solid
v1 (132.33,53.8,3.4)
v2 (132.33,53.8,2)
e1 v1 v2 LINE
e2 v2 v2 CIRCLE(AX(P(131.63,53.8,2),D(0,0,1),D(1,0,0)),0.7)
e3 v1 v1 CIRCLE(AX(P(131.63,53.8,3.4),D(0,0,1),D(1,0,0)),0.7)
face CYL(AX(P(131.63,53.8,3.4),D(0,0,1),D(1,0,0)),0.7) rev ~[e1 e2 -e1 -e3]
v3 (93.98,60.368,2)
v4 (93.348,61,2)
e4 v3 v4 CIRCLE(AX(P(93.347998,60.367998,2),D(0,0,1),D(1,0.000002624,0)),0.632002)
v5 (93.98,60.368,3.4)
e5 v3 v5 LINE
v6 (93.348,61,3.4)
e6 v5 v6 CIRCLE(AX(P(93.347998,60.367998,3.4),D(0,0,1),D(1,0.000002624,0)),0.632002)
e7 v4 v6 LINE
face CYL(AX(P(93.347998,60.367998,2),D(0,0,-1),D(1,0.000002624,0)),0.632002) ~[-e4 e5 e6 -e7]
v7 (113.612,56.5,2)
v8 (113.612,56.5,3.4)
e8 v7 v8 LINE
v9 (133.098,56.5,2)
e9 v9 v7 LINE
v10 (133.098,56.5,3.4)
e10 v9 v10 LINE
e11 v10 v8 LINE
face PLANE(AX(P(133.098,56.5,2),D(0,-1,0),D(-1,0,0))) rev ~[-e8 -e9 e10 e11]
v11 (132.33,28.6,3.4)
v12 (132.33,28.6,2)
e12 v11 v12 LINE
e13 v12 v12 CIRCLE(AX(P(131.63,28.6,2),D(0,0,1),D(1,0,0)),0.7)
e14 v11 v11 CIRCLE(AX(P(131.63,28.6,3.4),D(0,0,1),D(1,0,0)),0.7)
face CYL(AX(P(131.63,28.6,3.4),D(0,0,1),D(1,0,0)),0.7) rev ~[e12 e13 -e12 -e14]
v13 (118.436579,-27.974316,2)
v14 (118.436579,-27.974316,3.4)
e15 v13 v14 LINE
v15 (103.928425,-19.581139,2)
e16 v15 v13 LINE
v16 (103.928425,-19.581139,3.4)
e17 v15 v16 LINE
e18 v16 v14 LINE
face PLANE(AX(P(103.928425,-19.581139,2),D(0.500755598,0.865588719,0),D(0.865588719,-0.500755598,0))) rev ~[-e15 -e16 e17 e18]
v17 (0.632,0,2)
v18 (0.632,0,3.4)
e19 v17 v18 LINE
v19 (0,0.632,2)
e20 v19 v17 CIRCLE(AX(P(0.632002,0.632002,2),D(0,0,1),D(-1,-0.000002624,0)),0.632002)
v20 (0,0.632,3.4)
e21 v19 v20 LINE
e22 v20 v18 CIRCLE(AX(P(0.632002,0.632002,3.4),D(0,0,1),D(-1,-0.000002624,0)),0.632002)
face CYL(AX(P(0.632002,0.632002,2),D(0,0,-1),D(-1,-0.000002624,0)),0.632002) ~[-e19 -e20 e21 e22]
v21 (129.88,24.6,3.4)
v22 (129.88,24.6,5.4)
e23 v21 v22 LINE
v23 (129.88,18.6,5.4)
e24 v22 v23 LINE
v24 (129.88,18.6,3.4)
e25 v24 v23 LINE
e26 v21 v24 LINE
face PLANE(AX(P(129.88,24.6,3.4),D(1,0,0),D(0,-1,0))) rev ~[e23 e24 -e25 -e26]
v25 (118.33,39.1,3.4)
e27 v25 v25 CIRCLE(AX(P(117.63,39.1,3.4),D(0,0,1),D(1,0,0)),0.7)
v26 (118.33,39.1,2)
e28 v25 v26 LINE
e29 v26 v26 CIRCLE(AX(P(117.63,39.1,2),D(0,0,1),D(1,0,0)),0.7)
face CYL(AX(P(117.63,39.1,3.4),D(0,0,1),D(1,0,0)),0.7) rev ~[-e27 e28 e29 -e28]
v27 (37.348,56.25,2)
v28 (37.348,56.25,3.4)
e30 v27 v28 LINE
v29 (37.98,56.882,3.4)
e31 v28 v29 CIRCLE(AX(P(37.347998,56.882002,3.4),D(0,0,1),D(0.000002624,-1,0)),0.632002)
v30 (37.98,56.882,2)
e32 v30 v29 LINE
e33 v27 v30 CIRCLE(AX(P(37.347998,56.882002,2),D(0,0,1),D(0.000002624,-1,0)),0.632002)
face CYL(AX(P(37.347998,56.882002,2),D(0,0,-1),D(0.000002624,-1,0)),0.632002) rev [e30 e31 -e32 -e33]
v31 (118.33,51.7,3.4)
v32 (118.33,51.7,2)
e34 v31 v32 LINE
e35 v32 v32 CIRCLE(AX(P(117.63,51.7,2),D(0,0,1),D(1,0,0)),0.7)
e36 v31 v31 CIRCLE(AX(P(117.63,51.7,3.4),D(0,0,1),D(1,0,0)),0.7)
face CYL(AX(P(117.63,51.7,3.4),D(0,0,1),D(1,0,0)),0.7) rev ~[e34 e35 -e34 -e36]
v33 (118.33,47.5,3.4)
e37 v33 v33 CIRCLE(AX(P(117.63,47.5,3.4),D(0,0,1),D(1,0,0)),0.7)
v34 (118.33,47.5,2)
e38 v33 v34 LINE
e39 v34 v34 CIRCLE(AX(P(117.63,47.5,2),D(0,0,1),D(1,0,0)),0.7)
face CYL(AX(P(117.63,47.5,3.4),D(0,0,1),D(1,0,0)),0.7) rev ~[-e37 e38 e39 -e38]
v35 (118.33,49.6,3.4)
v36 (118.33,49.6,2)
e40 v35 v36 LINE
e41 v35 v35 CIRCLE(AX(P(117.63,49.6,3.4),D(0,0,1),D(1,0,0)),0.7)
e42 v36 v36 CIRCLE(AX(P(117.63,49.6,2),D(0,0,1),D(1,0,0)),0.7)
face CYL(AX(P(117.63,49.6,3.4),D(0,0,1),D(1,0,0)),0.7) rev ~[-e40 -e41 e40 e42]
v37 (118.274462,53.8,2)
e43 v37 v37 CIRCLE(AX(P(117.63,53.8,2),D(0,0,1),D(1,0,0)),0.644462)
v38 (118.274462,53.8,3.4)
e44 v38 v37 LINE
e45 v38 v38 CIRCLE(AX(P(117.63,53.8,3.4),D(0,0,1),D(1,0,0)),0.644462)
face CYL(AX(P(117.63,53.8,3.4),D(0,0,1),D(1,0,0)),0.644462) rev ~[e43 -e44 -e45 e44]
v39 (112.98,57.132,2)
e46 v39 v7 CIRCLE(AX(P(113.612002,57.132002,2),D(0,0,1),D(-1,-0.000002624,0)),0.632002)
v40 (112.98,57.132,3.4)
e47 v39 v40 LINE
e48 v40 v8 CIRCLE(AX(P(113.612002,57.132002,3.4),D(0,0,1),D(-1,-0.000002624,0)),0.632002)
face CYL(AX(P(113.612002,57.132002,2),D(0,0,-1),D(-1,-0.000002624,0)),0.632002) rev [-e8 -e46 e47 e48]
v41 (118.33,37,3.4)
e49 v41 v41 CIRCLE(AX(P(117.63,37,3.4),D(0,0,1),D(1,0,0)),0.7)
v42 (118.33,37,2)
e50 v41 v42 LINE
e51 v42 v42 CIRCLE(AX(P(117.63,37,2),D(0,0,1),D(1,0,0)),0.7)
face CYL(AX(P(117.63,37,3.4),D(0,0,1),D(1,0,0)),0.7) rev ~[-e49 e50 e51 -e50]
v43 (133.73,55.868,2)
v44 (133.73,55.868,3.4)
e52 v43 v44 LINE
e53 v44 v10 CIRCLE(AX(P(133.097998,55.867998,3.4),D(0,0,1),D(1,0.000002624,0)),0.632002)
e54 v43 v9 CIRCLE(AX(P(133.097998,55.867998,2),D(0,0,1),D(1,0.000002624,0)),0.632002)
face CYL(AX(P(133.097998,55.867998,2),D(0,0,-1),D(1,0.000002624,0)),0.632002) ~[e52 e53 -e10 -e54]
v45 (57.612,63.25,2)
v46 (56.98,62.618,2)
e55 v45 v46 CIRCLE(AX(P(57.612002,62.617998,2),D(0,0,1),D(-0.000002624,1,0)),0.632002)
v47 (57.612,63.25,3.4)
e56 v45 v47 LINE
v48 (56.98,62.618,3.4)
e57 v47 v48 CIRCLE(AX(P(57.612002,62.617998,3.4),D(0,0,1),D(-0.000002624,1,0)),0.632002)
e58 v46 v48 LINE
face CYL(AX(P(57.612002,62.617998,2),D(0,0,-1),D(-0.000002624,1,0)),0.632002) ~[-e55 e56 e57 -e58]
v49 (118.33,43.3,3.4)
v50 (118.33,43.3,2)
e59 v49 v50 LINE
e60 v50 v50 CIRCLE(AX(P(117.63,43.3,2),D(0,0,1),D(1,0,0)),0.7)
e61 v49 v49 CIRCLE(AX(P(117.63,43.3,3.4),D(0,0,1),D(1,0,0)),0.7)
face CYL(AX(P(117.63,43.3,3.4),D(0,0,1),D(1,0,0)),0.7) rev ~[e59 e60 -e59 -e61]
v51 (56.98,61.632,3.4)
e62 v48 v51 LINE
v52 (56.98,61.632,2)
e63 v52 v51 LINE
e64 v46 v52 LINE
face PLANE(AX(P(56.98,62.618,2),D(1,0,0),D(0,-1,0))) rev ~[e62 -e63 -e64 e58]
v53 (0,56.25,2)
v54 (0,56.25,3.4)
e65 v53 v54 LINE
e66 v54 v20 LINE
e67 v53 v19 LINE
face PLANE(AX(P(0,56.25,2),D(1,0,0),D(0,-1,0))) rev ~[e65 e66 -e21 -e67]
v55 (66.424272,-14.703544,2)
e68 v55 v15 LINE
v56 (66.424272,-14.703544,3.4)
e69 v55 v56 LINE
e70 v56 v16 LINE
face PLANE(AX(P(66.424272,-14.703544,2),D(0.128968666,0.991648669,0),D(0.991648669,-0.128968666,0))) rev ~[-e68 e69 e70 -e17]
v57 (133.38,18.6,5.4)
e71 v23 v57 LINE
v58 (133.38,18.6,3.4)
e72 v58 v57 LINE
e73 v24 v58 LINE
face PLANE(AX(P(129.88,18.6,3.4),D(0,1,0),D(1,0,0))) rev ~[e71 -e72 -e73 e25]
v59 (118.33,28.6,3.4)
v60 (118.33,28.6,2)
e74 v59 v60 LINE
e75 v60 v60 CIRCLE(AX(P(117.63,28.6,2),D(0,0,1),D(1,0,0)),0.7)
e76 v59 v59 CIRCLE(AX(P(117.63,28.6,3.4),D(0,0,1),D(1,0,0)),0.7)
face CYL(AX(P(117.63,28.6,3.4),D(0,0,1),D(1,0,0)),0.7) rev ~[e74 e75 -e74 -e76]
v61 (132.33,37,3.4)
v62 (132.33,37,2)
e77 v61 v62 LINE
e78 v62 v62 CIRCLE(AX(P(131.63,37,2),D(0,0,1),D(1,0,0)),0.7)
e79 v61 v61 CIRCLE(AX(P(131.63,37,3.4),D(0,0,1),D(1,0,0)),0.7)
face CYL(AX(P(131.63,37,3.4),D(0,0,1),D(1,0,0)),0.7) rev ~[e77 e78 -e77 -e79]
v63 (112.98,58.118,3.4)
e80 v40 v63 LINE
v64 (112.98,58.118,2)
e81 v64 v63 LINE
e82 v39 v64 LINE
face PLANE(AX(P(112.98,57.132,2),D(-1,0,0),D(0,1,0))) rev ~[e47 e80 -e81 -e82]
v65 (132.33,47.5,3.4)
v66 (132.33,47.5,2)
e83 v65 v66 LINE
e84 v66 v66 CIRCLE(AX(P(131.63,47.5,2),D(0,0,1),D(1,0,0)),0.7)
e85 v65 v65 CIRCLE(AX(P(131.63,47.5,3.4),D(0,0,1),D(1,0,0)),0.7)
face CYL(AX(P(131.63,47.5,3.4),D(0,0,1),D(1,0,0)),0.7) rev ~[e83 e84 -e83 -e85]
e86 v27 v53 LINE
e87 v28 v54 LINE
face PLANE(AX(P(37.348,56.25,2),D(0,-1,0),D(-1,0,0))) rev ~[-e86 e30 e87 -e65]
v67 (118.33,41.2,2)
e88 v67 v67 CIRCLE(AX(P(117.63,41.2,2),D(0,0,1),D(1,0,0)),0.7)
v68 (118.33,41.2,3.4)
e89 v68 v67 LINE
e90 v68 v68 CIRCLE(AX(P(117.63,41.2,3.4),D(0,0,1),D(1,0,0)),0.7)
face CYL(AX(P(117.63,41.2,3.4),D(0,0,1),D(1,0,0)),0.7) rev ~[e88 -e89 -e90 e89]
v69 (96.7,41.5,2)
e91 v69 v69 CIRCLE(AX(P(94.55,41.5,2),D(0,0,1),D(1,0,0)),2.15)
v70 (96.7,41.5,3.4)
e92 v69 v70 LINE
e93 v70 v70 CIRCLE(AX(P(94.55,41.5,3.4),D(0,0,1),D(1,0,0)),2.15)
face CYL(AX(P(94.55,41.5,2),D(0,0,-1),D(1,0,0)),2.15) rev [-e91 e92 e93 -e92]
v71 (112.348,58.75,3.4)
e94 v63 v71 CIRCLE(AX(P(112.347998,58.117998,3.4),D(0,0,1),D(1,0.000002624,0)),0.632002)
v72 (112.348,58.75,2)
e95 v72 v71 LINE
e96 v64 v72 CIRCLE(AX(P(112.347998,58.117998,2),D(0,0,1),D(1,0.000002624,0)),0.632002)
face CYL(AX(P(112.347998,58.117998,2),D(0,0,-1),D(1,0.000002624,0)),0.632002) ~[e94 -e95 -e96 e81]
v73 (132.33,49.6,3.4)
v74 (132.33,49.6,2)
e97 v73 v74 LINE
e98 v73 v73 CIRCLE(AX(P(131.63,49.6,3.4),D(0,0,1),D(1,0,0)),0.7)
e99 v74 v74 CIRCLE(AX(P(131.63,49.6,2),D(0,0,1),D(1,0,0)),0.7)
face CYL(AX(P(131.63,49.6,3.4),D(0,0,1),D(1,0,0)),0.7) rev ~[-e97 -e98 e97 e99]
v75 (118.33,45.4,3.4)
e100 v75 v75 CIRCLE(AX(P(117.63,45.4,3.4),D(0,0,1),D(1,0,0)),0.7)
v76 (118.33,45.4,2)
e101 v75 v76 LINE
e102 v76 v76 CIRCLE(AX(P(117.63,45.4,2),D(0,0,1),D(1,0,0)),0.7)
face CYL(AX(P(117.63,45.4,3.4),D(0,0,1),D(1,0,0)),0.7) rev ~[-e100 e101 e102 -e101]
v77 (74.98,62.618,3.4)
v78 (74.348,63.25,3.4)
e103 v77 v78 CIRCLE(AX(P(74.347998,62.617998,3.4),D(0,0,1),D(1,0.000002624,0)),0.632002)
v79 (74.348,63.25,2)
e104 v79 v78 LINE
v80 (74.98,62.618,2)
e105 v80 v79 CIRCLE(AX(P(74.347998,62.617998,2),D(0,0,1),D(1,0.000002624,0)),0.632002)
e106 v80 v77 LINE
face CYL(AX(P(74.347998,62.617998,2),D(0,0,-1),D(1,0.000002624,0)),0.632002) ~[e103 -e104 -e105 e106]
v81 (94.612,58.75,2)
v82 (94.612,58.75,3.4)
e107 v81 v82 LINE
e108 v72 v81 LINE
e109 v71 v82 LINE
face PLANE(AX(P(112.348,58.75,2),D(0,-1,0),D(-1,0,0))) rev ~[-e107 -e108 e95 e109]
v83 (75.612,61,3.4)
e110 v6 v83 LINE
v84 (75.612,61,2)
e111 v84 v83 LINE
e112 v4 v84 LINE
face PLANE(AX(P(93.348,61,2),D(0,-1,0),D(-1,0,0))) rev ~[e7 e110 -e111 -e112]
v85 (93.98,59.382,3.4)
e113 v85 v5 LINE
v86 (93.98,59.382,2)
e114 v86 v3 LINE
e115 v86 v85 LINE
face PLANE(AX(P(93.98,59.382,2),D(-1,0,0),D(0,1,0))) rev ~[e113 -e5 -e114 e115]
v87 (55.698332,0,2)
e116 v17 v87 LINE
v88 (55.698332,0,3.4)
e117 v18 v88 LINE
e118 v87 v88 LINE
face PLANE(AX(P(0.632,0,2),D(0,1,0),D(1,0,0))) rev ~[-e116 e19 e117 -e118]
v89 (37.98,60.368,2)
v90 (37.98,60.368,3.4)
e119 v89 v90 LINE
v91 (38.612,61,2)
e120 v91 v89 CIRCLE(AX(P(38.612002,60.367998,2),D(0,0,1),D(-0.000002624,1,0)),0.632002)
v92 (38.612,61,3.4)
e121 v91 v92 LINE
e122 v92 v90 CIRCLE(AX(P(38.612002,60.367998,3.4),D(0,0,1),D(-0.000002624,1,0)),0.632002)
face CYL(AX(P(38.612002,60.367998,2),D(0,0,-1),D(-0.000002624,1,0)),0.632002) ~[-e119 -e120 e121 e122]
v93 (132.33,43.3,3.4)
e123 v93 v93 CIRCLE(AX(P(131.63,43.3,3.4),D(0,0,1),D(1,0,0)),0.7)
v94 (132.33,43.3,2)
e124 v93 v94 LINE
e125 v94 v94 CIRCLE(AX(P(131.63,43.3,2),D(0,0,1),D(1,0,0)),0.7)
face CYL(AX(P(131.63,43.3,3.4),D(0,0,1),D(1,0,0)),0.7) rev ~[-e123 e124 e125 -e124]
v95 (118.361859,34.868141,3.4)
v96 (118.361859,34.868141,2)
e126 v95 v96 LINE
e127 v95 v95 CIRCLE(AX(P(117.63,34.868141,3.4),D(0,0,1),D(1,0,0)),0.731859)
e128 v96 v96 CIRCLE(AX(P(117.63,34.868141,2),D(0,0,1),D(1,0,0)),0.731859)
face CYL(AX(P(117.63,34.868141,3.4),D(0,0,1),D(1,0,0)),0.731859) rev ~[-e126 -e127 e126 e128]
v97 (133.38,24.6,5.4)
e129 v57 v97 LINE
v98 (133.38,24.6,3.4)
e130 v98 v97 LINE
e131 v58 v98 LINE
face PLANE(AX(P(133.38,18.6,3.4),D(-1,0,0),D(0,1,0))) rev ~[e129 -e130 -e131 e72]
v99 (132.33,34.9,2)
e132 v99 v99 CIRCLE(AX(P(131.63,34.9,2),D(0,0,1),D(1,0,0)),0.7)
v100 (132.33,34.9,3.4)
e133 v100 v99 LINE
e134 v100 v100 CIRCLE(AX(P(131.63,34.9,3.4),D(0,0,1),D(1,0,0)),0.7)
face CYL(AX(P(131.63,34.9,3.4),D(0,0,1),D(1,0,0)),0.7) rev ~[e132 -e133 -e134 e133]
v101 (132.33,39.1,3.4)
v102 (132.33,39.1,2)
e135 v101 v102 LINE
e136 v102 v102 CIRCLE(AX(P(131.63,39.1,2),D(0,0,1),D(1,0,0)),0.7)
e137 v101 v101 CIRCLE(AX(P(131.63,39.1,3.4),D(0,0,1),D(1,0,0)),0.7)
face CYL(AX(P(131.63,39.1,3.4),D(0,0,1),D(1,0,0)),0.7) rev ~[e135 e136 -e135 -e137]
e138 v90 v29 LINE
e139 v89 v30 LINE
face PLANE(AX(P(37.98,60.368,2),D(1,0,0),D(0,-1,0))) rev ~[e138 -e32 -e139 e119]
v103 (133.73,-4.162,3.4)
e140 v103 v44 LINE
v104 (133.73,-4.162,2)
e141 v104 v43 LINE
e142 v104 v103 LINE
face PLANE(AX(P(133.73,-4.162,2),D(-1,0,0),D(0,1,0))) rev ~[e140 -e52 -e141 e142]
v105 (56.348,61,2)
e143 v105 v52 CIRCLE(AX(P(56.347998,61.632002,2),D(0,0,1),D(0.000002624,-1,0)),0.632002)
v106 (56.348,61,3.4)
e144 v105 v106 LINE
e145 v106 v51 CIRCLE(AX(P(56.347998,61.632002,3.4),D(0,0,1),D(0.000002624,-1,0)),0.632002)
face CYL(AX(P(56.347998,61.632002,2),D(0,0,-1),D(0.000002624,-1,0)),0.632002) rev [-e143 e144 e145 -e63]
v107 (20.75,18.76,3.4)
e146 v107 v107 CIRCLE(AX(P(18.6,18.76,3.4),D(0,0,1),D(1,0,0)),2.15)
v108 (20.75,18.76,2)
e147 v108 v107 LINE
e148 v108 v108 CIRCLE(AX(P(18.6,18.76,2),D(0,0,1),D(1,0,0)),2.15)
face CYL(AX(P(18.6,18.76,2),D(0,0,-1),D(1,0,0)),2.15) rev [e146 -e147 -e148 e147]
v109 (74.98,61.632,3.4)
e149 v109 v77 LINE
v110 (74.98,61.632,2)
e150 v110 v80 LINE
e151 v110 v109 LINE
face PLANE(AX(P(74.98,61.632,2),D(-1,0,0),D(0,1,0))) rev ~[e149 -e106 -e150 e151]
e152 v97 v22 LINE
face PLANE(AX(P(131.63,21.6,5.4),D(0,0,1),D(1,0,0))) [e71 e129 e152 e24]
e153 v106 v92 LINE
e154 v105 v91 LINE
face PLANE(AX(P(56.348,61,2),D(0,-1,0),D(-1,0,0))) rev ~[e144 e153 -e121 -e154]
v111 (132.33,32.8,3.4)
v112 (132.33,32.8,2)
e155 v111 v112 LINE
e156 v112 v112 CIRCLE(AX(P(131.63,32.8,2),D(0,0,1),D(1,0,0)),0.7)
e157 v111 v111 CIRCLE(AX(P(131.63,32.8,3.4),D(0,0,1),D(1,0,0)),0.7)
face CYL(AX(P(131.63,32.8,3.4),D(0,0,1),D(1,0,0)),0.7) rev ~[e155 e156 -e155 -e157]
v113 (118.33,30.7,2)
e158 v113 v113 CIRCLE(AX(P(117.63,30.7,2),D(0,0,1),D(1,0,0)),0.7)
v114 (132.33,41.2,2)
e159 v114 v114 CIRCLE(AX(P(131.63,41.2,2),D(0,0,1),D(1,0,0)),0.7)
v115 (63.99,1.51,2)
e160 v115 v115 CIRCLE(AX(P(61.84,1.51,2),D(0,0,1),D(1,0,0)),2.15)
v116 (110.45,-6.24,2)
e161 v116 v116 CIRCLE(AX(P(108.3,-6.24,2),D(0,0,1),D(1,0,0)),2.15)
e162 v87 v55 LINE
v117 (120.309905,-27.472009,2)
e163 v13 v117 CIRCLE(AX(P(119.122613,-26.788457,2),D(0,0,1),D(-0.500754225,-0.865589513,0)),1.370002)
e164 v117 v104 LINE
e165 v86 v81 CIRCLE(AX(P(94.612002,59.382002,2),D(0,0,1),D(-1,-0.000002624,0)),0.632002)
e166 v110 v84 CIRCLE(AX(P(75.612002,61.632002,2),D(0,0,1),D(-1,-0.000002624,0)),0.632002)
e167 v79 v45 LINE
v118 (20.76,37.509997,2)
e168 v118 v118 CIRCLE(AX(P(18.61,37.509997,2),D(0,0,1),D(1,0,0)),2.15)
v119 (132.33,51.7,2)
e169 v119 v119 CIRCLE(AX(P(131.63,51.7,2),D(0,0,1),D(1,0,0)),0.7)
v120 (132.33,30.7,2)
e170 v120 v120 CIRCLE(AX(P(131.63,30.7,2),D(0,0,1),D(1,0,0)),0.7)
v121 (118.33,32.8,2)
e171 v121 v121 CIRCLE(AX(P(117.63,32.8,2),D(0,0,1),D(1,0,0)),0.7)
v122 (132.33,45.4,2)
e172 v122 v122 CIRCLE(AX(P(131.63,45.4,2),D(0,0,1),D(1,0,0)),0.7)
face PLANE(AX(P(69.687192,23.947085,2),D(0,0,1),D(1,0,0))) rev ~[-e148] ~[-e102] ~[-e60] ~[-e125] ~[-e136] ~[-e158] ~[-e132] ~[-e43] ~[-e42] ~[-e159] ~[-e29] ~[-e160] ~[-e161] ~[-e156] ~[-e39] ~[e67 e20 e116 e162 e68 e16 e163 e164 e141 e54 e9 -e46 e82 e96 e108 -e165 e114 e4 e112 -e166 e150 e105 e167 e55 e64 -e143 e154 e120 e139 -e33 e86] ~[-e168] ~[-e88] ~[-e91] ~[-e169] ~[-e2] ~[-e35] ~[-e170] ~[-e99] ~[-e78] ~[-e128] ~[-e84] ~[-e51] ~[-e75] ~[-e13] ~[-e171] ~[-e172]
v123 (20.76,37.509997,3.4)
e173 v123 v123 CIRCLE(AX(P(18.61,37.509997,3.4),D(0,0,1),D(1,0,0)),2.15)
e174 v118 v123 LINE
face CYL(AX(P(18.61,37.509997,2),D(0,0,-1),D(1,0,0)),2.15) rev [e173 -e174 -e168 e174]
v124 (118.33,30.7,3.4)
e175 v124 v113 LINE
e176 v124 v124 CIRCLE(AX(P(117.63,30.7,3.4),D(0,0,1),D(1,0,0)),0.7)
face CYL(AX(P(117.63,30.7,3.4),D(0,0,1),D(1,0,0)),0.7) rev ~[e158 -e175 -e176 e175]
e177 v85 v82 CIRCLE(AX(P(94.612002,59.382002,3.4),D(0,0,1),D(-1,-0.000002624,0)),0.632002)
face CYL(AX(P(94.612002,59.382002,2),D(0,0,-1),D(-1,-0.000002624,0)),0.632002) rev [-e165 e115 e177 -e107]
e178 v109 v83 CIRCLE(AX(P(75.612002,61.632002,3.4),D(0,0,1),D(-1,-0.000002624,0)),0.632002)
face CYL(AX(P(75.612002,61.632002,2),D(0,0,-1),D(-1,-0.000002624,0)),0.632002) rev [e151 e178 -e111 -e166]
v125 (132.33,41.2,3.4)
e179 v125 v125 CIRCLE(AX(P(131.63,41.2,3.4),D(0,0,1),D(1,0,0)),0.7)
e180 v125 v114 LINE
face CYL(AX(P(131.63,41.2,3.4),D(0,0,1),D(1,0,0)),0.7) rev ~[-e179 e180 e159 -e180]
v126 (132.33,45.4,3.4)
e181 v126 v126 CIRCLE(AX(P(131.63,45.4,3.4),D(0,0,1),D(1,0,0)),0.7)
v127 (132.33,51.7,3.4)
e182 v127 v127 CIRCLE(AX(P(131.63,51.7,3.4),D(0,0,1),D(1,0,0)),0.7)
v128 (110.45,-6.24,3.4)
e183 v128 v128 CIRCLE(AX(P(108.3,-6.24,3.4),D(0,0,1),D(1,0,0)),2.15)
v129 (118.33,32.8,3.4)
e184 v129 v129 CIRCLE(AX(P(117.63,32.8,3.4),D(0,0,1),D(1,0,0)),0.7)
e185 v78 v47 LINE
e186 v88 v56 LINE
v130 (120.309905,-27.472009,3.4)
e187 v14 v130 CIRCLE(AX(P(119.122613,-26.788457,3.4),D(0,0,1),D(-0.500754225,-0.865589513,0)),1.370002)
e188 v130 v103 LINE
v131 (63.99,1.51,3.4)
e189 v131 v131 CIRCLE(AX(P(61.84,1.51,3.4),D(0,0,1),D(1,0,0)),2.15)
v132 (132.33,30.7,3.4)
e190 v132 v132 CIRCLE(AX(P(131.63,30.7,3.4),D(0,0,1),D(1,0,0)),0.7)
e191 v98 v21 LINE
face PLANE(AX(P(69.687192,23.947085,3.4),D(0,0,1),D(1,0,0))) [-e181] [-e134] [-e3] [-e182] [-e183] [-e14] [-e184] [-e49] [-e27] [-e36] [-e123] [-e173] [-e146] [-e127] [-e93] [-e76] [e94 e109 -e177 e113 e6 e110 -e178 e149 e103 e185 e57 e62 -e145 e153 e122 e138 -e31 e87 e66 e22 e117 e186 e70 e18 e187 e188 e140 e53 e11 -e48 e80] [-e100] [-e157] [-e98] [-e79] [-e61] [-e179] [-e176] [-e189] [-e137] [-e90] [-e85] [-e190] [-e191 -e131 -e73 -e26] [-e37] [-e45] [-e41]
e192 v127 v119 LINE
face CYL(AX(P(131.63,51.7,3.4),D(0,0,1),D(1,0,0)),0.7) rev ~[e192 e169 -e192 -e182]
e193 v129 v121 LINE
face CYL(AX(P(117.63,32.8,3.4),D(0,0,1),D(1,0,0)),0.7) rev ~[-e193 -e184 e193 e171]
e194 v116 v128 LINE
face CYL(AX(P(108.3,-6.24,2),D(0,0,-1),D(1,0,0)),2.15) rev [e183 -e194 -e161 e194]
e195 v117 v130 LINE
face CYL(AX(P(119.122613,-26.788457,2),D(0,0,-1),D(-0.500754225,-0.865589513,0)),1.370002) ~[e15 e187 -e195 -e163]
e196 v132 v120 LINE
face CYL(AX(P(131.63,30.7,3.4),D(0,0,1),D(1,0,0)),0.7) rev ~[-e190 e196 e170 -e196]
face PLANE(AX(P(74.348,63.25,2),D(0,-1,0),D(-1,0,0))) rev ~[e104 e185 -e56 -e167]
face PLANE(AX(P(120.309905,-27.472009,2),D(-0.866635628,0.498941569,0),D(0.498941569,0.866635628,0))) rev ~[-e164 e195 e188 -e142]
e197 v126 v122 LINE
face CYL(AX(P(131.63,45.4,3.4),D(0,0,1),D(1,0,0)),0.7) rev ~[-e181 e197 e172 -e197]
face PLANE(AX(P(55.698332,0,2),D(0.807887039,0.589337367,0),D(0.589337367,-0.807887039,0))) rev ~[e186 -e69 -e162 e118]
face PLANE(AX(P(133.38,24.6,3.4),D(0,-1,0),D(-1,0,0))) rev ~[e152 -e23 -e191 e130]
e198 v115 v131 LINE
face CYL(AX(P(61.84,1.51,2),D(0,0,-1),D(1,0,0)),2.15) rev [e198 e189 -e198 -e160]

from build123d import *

# Parameters (mm, degrees)
MIRROREDSKETCH005_R = 2.15
PAD021_DEPTH        = 1.4
SKETCH093_R         = 0.7
SKETCH093_R_2       = 0.644462
SKETCH093_R_3       = 0.731859
POCKET013_DEPTH     = 1.401
PAD024_DEPTH        = 2


with BuildPart() as part:
    # MirroredSketch005 → Pad021 (new body)
    with BuildSketch(Plane.XY):
        with BuildLine():
            Line((0, 56.25), (0, 0.632))
            ThreePointArc((0, 0.632), (0.185109, 0.185109), (0.632, 0))
            Line((0.632, 0), (55.698332, 0))
            Line((55.698332, 0), (66.424272, -14.703544))
            Line((66.424272, -14.703544), (103.928425, -19.581139))
            Line((103.928425, -19.581139), (118.436579, -27.974316))
            ThreePointArc((118.436579, -27.974316), (119.477427, -28.111715), (120.309905, -27.472009))
            Line((120.309905, -27.472009), (133.73, -4.162))
            Line((133.73, -4.162), (133.73, 55.868))
            ThreePointArc((133.73, 55.868), (133.544891, 56.314891), (133.098, 56.5))
            Line((133.098, 56.5), (113.612, 56.5))
            ThreePointArc((112.98, 57.132), (113.165109, 56.685109), (113.612, 56.5))
            Line((112.98, 57.132), (112.98, 58.118))
            ThreePointArc((112.98, 58.118), (112.794891, 58.564891), (112.348, 58.75))
            Line((112.348, 58.75), (94.612, 58.75))
            ThreePointArc((93.98, 59.382), (94.165109, 58.935109), (94.612, 58.75))
            Line((93.98, 59.382), (93.98, 60.368))
            ThreePointArc((93.98, 60.368), (93.794891, 60.814891), (93.348, 61))
            Line((93.348, 61), (75.612, 61))
            ThreePointArc((74.98, 61.632), (75.165109, 61.185109), (75.612, 61))
            Line((74.98, 61.632), (74.98, 62.618))
            ThreePointArc((74.98, 62.618), (74.794891, 63.064891), (74.348, 63.25))
            Line((74.348, 63.25), (57.612, 63.25))
            ThreePointArc((57.612, 63.25), (57.165109, 63.064891), (56.98, 62.618))
            Line((56.98, 62.618), (56.98, 61.632))
            ThreePointArc((56.348, 61), (56.794891, 61.185109), (56.98, 61.632))
            Line((56.348, 61), (38.612, 61))
            ThreePointArc((38.612, 61), (38.165109, 60.814891), (37.98, 60.368))
            Line((37.98, 60.368), (37.98, 56.882))
            ThreePointArc((37.348, 56.25), (37.794891, 56.435109), (37.98, 56.882))
            Line((37.348, 56.25), (0, 56.25))
        make_face()
        with Locations((18.61, 37.509997)):
            Circle(MIRROREDSKETCH005_R, mode=Mode.SUBTRACT)
        with Locations((18.6, 18.76)):
            Circle(MIRROREDSKETCH005_R, mode=Mode.SUBTRACT)
        with Locations((108.3, -6.24)):
            Circle(MIRROREDSKETCH005_R, mode=Mode.SUBTRACT)
        with Locations((94.55, 41.5)):
            Circle(MIRROREDSKETCH005_R, mode=Mode.SUBTRACT)
        with Locations((61.84, 1.51)):
            Circle(MIRROREDSKETCH005_R, mode=Mode.SUBTRACT)
    extrude(amount=PAD021_DEPTH)

    # Sketch093 (on Face38 of Pad021) → Pocket013 (cut, through all)
    with BuildSketch(Plane.XY.offset(1.4)):
        with Locations((131.63, 53.8)):
            Circle(SKETCH093_R)
        with Locations((131.63, 51.7)):
            Circle(SKETCH093_R)
        with Locations((131.63, 49.6)):
            Circle(SKETCH093_R)
        with Locations((131.63, 47.5)):
            Circle(SKETCH093_R)
        with Locations((131.63, 45.4)):
            Circle(SKETCH093_R)
        with Locations((131.63, 43.3)):
            Circle(SKETCH093_R)
        with Locations((131.63, 41.2)):
            Circle(SKETCH093_R)
        with Locations((131.63, 39.1)):
            Circle(SKETCH093_R)
        with Locations((131.63, 37)):
            Circle(SKETCH093_R)
        with Locations((131.63, 34.9)):
            Circle(SKETCH093_R)
        with Locations((131.63, 32.8)):
            Circle(SKETCH093_R)
        with Locations((131.63, 30.7)):
            Circle(SKETCH093_R)
        with Locations((131.63, 28.6)):
            Circle(SKETCH093_R)
        with Locations((117.63, 53.8)):
            Circle(SKETCH093_R_2)
        with Locations((117.63, 51.7)):
            Circle(SKETCH093_R)
        with Locations((117.63, 49.6)):
            Circle(SKETCH093_R)
        with Locations((117.63, 47.5)):
            Circle(SKETCH093_R)
        with Locations((117.63, 45.4)):
            Circle(SKETCH093_R)
        with Locations((117.63, 43.3)):
            Circle(SKETCH093_R)
        with Locations((117.63, 41.2)):
            Circle(SKETCH093_R)
        with Locations((117.63, 39.1)):
            Circle(SKETCH093_R)
        with Locations((117.63, 37)):
            Circle(SKETCH093_R)
        with Locations((117.63, 34.868141)):
            Circle(SKETCH093_R_3)
        with Locations((117.63, 32.8)):
            Circle(SKETCH093_R)
        with Locations((117.63, 30.7)):
            Circle(SKETCH093_R)
        with Locations((117.63, 28.6)):
            Circle(SKETCH093_R)
    extrude(amount=-POCKET013_DEPTH, mode=Mode.SUBTRACT)

    # Sketch101 (on Face5 of Pocket013) → Pad024 (join)
    with BuildSketch(Plane.XY.offset(1.4)):
        Polygon((129.88, 24.6), (129.88, 18.6), (133.38, 18.6), (133.38, 24.6), (131.63, 24.6), align=None)
    extrude(amount=PAD024_DEPTH)


with BuildPart() as part_1:
    # Body005 placement: moved
    add(part.part.moved(Location((0, 0, 2))))


solid = part_1.part
